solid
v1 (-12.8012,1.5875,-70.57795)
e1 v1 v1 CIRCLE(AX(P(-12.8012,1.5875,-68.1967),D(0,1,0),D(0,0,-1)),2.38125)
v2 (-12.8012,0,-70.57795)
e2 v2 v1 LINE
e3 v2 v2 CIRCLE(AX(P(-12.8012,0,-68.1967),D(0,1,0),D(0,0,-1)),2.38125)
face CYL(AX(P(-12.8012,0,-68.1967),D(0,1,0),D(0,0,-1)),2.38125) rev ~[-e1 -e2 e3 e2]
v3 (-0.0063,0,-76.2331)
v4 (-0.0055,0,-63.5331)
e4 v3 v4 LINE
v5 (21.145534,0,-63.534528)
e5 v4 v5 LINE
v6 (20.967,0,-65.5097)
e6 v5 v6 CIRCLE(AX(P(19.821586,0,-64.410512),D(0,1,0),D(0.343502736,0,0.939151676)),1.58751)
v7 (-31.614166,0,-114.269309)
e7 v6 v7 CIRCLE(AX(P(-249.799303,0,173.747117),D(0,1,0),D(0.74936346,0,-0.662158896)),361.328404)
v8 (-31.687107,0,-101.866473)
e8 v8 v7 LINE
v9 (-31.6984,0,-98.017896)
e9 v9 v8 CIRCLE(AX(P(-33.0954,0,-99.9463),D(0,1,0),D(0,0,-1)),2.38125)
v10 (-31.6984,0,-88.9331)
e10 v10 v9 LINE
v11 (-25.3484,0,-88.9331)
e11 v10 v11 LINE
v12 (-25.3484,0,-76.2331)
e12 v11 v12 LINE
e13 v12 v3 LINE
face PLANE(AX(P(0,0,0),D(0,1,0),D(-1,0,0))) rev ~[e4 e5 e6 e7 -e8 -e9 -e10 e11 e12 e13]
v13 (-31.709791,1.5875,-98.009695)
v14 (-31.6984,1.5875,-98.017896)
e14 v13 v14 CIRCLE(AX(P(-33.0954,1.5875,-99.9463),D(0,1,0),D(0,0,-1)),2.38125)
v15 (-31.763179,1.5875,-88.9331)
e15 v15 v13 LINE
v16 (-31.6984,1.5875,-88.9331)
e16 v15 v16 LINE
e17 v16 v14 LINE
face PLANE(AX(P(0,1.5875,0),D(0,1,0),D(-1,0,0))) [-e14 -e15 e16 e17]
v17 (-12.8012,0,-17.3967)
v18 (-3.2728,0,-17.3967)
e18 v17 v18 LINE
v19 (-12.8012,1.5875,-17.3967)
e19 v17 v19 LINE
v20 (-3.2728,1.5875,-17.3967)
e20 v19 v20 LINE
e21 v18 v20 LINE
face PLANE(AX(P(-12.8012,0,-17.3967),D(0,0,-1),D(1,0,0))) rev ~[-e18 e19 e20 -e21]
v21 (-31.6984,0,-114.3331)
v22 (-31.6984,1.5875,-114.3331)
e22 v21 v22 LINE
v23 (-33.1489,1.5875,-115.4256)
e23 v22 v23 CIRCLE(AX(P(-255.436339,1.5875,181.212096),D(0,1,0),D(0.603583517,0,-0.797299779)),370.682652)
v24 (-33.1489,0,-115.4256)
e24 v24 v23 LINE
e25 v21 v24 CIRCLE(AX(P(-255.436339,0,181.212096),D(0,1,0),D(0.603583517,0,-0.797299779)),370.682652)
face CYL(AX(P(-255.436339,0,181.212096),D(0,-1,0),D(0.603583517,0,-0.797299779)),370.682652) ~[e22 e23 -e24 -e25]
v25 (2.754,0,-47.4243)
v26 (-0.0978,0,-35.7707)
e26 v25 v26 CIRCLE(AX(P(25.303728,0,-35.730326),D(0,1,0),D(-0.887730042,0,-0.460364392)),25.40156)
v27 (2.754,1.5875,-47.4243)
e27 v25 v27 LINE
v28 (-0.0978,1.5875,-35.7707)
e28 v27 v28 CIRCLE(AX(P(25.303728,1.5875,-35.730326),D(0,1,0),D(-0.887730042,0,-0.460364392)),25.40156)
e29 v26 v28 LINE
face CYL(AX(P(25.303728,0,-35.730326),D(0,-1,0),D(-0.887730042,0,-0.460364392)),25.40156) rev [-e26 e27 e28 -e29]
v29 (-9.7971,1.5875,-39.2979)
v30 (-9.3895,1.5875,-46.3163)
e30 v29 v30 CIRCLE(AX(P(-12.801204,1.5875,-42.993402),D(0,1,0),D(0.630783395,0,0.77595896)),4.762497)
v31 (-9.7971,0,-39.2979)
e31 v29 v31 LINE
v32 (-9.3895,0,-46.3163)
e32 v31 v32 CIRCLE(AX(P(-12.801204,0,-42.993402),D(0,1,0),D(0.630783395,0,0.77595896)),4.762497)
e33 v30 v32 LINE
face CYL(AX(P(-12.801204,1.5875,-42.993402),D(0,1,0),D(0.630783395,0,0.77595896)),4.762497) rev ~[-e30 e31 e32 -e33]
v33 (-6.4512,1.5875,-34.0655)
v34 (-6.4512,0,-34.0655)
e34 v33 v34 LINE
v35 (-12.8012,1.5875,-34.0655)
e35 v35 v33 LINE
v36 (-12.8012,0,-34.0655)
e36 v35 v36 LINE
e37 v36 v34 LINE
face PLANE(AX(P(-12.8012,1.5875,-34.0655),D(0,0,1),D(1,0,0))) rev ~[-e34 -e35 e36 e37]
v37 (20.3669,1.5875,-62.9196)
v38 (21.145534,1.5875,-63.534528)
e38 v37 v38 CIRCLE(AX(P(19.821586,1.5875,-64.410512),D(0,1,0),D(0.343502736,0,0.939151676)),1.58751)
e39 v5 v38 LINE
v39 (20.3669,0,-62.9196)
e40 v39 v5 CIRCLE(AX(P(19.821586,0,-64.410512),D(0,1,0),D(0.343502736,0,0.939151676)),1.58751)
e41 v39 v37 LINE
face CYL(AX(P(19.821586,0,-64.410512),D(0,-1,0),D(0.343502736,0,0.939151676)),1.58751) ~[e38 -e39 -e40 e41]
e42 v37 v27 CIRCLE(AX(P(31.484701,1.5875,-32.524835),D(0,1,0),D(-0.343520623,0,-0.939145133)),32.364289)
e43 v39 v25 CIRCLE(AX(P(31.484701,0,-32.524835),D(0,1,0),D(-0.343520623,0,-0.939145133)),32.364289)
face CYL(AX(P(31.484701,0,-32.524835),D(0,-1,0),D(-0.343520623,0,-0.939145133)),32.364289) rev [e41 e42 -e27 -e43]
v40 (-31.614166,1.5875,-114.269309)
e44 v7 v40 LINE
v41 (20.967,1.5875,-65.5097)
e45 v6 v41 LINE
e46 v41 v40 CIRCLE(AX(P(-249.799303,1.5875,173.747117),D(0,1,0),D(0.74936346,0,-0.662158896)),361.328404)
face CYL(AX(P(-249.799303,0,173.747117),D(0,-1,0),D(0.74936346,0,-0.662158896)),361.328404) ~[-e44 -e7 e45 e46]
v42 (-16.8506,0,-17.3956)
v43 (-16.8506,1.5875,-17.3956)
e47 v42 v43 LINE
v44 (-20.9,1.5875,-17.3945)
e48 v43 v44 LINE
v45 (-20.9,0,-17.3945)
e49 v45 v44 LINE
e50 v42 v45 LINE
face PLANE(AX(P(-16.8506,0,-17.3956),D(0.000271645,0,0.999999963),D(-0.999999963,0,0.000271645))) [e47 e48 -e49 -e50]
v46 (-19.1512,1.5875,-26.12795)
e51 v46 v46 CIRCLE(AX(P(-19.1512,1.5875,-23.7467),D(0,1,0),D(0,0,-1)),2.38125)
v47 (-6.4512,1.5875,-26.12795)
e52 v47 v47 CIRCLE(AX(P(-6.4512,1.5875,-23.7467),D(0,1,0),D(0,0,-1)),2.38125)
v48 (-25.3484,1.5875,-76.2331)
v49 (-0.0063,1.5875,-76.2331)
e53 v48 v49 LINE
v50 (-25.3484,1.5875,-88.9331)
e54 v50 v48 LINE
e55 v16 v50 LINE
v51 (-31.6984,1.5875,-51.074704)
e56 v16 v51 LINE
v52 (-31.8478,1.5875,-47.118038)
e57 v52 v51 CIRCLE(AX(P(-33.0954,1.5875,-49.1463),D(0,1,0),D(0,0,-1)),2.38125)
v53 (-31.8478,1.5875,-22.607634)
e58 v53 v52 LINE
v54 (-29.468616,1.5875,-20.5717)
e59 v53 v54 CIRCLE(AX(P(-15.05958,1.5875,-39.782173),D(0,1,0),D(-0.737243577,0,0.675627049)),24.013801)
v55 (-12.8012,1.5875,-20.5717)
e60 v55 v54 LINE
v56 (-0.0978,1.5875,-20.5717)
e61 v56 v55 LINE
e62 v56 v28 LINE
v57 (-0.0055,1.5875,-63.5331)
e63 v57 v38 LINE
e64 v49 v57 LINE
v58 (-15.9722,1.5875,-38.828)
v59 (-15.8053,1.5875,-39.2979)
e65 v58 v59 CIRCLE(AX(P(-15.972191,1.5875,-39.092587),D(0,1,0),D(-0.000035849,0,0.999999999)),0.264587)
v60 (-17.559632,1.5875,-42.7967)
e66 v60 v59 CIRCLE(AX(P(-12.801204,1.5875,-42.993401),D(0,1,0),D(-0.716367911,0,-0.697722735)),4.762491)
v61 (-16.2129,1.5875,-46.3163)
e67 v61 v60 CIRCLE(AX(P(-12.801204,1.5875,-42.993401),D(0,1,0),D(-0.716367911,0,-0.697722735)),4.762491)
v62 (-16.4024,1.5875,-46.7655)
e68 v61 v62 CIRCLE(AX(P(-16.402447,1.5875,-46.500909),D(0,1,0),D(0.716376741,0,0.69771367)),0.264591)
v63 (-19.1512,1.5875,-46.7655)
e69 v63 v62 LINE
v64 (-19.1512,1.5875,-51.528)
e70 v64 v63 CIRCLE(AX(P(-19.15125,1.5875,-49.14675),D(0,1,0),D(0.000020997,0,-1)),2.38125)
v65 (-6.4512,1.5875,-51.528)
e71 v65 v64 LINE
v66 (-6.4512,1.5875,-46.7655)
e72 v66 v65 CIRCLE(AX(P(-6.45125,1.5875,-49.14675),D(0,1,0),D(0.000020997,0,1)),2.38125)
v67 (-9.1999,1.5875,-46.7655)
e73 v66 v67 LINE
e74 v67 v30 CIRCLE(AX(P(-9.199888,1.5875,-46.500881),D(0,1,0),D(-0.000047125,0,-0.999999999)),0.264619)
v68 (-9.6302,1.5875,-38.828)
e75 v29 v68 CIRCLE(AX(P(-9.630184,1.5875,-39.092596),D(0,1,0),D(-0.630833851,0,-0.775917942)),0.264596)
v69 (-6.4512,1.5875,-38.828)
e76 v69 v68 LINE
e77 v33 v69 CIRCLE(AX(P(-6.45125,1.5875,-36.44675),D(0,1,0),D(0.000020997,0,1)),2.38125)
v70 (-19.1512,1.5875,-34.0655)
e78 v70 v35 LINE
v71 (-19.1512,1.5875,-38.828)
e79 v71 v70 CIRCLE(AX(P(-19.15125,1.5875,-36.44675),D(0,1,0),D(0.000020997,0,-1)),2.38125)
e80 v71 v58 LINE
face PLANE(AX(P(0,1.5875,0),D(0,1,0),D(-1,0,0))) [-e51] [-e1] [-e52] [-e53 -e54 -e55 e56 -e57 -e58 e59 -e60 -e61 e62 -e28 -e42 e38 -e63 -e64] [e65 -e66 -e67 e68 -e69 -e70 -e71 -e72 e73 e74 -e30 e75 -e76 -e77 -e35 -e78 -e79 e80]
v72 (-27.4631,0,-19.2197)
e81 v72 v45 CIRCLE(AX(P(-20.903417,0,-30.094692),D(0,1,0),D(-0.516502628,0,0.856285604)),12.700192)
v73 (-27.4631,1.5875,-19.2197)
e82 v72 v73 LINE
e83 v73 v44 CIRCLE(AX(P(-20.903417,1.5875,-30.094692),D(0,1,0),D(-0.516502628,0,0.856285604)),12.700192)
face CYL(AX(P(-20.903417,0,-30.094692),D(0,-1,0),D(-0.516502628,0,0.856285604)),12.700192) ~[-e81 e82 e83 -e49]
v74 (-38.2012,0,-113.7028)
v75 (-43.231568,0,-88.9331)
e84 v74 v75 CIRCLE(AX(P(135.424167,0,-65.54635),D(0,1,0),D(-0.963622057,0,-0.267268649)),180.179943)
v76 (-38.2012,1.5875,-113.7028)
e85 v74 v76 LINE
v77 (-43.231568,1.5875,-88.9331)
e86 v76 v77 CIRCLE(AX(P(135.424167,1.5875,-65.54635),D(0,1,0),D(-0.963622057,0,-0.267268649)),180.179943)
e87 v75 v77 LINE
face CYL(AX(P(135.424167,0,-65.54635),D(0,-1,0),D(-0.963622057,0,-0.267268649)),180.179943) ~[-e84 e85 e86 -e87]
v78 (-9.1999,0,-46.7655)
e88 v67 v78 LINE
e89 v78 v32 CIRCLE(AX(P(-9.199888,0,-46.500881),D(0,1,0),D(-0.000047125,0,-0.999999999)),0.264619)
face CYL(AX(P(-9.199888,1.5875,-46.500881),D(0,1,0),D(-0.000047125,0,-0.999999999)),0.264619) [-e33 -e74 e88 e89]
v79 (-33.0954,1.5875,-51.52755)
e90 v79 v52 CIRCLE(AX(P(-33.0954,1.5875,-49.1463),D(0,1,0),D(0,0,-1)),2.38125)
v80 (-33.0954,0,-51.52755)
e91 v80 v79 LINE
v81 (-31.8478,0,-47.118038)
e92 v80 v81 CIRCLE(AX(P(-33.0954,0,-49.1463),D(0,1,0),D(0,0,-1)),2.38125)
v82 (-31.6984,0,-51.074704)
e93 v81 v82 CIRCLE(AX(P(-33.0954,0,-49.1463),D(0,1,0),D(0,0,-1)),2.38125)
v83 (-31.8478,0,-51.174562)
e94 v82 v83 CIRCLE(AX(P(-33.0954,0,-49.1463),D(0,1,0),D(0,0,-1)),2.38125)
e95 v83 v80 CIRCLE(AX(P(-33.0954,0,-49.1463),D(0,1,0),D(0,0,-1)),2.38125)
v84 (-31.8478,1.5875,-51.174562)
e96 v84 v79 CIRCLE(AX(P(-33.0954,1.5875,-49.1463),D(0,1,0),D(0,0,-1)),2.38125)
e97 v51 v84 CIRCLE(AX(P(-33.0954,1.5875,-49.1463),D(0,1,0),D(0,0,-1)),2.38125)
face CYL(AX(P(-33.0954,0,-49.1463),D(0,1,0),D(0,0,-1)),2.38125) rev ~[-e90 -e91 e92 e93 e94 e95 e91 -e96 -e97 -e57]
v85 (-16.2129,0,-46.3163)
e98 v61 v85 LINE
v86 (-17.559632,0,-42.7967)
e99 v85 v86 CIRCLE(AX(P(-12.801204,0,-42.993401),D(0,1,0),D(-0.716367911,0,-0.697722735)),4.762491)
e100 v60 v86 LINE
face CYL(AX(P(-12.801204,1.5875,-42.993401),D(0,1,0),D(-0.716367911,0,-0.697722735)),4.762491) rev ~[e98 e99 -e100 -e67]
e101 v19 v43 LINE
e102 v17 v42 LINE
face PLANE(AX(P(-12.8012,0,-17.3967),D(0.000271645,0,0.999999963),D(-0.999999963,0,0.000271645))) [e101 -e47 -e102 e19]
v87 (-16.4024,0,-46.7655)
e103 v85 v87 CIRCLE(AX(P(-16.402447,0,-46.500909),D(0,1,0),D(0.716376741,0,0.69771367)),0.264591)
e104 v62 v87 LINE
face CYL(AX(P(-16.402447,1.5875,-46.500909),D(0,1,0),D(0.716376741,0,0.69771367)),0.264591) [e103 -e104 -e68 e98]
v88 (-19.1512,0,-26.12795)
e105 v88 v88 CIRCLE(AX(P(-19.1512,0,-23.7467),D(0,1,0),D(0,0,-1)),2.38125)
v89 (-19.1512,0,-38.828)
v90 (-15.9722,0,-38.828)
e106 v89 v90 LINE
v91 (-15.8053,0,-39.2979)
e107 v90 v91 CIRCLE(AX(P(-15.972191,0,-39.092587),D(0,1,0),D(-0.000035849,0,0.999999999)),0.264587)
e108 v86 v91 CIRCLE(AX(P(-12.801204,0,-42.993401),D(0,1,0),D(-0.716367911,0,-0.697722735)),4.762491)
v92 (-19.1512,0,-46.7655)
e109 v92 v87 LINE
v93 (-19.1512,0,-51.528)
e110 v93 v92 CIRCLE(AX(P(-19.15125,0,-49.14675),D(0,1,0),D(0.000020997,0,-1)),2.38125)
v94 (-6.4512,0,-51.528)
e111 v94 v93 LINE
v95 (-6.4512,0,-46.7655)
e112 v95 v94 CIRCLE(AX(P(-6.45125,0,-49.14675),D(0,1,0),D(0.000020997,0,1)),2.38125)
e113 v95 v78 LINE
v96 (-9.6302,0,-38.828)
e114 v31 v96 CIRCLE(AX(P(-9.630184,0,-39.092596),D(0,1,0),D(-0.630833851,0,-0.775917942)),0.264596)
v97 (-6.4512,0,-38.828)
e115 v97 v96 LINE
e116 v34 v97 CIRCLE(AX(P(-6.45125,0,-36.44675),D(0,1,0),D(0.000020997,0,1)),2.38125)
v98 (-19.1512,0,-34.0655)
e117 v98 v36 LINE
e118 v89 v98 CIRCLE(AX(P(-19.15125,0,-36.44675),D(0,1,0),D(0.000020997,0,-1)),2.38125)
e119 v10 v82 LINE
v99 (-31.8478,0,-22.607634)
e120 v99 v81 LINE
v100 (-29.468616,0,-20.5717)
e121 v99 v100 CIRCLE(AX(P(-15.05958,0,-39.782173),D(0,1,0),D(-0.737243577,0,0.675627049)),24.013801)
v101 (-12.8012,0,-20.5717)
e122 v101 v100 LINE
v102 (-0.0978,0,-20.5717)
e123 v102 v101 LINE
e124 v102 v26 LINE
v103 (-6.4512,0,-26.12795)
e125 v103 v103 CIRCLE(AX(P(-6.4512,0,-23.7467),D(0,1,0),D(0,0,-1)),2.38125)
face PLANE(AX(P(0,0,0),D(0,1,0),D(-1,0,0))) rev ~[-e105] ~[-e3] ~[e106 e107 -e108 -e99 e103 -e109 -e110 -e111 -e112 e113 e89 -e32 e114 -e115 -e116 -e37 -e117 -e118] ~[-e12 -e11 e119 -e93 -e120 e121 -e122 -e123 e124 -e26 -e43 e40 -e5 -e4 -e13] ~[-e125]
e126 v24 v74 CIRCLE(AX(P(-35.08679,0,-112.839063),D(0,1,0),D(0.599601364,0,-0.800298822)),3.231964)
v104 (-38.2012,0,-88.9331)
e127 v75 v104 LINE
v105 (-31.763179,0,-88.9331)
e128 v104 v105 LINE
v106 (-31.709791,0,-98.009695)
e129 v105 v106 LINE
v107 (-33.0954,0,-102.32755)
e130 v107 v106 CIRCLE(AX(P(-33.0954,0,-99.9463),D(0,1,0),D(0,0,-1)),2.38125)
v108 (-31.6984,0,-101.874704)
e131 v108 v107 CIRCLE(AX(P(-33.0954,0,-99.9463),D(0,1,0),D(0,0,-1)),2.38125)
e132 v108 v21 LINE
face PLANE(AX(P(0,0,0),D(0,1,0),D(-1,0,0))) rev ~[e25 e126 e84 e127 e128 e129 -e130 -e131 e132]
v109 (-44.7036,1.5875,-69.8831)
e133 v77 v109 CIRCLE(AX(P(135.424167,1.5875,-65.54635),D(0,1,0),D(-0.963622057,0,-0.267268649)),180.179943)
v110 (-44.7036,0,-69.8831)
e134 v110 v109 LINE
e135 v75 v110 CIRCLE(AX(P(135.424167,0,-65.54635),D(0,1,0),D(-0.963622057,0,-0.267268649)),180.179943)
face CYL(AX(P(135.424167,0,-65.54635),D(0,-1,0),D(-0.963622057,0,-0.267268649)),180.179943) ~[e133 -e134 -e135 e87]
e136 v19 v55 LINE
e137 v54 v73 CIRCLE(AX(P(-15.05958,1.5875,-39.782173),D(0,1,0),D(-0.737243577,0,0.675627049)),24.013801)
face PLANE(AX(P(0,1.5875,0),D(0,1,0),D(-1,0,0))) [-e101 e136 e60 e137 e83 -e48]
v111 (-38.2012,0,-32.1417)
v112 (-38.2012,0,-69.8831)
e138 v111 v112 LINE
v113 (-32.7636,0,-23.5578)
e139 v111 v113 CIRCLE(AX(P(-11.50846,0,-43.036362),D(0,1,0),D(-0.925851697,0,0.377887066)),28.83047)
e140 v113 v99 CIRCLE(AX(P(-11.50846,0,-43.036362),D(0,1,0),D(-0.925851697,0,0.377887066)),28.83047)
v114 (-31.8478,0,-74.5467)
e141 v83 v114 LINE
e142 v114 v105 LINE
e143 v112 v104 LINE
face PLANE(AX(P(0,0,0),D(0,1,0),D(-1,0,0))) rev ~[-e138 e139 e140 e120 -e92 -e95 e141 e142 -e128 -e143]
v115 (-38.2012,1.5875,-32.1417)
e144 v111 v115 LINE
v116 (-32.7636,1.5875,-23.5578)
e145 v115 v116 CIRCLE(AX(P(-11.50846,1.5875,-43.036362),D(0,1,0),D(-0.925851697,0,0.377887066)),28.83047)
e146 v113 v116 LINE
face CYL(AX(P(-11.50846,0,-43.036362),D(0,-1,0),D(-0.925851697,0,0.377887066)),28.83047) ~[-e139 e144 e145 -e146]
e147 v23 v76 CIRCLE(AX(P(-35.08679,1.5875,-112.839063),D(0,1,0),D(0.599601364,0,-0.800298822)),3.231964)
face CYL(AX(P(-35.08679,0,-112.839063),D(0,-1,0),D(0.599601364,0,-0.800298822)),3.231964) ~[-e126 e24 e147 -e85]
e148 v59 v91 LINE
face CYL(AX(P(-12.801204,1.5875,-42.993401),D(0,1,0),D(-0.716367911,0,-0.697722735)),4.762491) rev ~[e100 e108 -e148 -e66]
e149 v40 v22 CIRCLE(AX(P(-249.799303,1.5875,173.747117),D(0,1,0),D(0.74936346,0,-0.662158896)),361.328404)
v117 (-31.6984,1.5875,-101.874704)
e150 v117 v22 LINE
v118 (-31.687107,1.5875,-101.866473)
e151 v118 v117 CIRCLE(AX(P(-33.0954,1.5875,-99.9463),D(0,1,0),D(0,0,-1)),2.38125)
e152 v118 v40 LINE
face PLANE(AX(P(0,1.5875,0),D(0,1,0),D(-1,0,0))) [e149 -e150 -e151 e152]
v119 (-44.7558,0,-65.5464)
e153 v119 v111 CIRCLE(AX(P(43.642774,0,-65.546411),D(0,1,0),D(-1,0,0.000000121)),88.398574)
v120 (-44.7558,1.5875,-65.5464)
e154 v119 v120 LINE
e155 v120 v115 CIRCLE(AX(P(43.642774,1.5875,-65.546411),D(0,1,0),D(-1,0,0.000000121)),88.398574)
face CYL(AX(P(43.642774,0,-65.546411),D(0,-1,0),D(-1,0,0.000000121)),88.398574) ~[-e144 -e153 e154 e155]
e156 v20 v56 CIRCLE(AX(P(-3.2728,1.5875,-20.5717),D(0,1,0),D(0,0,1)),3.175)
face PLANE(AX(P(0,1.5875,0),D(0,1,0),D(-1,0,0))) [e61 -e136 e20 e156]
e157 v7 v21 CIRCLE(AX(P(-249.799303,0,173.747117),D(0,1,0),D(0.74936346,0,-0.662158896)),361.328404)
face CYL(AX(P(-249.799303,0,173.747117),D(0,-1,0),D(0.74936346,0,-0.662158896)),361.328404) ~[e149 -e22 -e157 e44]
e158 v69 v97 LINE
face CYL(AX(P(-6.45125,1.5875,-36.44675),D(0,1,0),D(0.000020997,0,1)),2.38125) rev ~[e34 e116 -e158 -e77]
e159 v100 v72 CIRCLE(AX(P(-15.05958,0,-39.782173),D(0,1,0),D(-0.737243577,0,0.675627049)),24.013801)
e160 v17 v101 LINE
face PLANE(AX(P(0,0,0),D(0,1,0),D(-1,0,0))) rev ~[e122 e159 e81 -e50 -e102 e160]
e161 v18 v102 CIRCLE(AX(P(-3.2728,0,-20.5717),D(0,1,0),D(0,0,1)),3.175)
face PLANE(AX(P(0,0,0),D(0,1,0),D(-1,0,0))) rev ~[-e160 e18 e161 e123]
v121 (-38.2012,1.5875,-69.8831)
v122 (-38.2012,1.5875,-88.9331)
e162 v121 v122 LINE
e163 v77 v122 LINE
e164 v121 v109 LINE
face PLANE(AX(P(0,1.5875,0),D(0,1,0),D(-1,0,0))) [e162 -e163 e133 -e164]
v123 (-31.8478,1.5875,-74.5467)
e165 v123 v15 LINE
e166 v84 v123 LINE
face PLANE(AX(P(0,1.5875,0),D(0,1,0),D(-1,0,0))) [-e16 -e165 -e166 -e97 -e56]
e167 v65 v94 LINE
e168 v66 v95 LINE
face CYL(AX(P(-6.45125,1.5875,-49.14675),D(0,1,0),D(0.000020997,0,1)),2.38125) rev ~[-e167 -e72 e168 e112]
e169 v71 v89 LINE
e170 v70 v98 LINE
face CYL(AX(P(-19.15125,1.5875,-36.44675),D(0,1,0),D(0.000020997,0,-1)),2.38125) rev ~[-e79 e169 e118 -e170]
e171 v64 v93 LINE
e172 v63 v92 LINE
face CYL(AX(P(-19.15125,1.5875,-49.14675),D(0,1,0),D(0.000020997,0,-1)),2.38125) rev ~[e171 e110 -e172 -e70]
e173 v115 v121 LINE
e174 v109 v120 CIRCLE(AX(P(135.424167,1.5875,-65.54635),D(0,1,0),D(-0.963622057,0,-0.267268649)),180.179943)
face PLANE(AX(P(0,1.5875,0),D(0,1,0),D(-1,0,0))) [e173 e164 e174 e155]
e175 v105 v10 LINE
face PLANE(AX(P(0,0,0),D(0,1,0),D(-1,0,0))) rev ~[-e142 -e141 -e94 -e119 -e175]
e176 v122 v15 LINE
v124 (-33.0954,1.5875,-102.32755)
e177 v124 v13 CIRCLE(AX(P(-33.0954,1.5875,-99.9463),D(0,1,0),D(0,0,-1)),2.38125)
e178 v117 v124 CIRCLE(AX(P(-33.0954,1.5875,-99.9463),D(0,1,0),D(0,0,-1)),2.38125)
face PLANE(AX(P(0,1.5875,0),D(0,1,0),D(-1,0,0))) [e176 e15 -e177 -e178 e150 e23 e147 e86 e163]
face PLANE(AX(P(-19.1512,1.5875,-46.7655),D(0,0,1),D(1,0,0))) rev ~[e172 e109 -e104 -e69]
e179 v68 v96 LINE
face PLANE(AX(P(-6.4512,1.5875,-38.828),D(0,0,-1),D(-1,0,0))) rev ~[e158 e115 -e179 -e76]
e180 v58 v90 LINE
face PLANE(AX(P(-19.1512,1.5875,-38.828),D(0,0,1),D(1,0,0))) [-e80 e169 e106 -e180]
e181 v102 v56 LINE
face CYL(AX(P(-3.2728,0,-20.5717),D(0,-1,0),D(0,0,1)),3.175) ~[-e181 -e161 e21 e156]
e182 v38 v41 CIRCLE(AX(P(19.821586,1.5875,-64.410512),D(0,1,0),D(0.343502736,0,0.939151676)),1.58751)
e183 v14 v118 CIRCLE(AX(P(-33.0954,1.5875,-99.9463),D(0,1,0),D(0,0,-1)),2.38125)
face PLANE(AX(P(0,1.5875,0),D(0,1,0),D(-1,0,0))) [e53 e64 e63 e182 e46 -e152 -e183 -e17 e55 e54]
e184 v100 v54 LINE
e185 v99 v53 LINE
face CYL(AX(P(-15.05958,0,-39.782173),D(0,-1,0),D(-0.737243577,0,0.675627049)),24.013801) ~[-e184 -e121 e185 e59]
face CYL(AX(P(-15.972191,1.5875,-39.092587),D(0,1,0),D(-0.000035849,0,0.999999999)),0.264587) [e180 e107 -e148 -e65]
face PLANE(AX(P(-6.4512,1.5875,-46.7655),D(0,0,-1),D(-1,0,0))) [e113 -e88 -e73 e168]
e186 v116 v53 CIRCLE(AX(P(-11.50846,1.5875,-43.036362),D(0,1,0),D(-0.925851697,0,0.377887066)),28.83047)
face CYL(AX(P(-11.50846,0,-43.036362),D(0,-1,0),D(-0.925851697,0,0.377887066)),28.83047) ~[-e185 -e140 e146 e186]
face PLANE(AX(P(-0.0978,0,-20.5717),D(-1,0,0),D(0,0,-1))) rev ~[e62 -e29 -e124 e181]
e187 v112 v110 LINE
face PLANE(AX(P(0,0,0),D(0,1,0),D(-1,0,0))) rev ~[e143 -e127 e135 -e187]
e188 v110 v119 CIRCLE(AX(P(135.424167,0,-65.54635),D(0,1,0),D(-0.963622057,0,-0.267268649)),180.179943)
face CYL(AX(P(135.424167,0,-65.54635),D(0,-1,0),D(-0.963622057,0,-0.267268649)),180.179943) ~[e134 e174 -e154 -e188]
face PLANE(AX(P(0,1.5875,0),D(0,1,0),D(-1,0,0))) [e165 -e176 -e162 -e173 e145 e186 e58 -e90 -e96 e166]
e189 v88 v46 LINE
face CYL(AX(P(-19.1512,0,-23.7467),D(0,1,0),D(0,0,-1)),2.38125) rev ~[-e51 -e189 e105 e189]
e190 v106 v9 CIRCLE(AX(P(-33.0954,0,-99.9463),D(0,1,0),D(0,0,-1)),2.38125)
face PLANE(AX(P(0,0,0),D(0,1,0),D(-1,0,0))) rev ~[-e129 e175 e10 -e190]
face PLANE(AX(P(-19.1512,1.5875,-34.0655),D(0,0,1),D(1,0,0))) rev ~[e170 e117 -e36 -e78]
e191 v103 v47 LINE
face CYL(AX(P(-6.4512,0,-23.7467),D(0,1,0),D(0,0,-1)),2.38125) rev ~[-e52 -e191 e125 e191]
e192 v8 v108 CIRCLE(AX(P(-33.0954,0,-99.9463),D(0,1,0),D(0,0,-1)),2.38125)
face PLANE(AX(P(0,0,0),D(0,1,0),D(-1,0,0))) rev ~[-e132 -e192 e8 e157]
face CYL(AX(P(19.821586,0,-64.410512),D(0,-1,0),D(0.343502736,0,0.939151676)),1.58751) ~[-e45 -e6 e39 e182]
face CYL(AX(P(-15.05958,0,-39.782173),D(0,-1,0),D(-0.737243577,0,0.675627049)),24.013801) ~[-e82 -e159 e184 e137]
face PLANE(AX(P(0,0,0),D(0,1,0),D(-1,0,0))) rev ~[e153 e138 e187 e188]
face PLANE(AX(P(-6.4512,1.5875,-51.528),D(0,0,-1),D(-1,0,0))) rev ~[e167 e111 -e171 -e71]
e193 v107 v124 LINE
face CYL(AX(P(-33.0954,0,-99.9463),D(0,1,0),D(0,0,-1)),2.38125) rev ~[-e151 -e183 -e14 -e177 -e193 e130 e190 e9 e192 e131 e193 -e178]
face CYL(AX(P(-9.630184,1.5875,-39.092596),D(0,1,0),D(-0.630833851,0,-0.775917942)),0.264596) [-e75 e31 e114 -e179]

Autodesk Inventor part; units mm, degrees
ref_plane "YZ Plane" through (0, 0, 0) normal (1, 0, 0) x (0, 1, 0)
ref_plane "XZ Plane" through (0, 0, 0) normal (0, 1, 0) x (-1, 0, 0)
ref_plane "XY Plane" through (0, 0, 0) normal (0, 0, 1) x (1, 0, 0)
sketch "Sketch2" plane through (0, 0, 0) normal (0, 1, 0) x (-1, 0, 0)
  line L0 (50.8978, -88.9331) -> (25.3484, -88.9331)
  line L1 (25.3484, -88.9331) -> (25.3484, -76.2331)
  line L2 (25.3484, -76.2331) -> (0.0063, -76.2331)
  line L3 (50.8978, -88.9331) -> (50.8978, -113.4067)
  line L4 (0.0063, -76.2331) -> (0.0055, -63.5331)
  line L5 (0.0055, -63.5331) -> (-22.2195, -63.5346)
  arc A0 (-20.3669, -62.9196) -> (-2.754, -47.4243) centre (-31.4849, -32.5245) ccw
  arc A1 (48.1058, -116.5585) -> (50.8978, -113.4067) centre (47.7228, -113.4067) ccw
  arc A2 (-20.3669, -62.9196) -> (-20.967, -65.5097) centre (-19.8216, -64.4105) ccw
  arc A3 (-2.754, -47.4243) -> (0.0978, -35.7707) centre (-25.3022, -35.7309) ccw
  line L6 (0.0978, -4.698) -> (47.7219, -4.6852)
  line L7 (50.8978, -7.8602) -> (50.8978, -88.9331)
  line L8 (0.0978, -20.5717) -> (0.0978, -35.7707)
  line L9 (3.2719, -4.6971) -> (12.7978, -4.6946)
  line L10 (12.7978, -4.6946) -> (12.8012, -17.3967)
  line L11 (12.8012, -17.3967) -> (20.9, -17.3945)
  line L12 (38.2012, -17.3899) -> (38.2012, -93.5899)
  line L13 (12.8012, -17.3967) -> (12.8012, -68.1967)
  arc A4 (50.8978, -7.8602) -> (47.7219, -4.6852) centre (47.7228, -7.8602) ccw
  arc A5 (3.2719, -4.6971) -> (0.0978, -7.8721) centre (3.2728, -7.8721) ccw
  line L14 (12.8012, -68.1967) -> (12.8012, -74.5467)
  line L15 (38.2012, -93.5899) -> (38.2012, -99.9399)
  line L16 (38.2012, -17.3899) -> (38.2012, -23.7399)
  line L17 (12.8012, -17.3967) -> (12.8012, -23.7467)
  line L18 (12.8012, -23.7467) -> (19.1512, -23.7467)
  line L19 (19.1512, -23.7467) -> (6.4512, -23.7467)
  line L20 (25.3484, -88.9331) -> (31.6984, -88.9331)
  line L21 (31.6984, -88.9331) -> (31.6984, -114.3331)
  arc A6 (-20.967, -65.5097) -> (31.6984, -114.3331) centre (249.7999, 173.7477) ccw
  arc A7 (31.6984, -114.3331) -> (33.1489, -115.4256) centre (249.7999, 173.7477) ccw
  line L22 (38.2012, -88.9331) -> (38.2012, -69.8831)
  line L23 (38.2012, -69.8831) -> (44.7036, -69.8831)
  line L24 (38.2012, -17.3899) -> (16.8506, -17.3956)
  line L25 (12.8012, -17.3967) -> (3.2728, -17.3967)
  arc A8 (38.2012, -113.7028) -> (38.2012, -17.3899) centre (-135.4238, -65.5464) ccw
  arc A9 (33.1489, -115.4256) -> (38.2012, -113.7028) centre (35.0868, -112.839) ccw
  arc A10 (3.2728, -17.3967) -> (0.0978, -20.5717) centre (3.2728, -20.5717) ccw
  line L26 (38.2012, -17.3899) -> (16.8506, -17.3956)
  arc A11 (44.7558, -65.5464) -> (30.4886, -17.392) centre (-43.6427, -65.5464) ccw
  arc A12 (38.2012, -32.1417) -> (24.6857, -17.3935) centre (11.5084, -43.0364) ccw
  arc A13 (32.7636, -23.5578) -> (27.4631, -19.2197) centre (15.0605, -39.7812) ccw
  arc A14 (27.4631, -19.2197) -> (20.9, -17.3945) centre (20.9035, -30.0945) ccw
  line L27 (0.0978, -20.5717) -> (31.8478, -20.5717)
  line L28 (31.8478, -20.5717) -> (31.8478, -76.2331)
  line L29 (31.8478, -17.3916) -> (31.8478, -74.5467)
  line L30 (31.8478, -74.5467) -> (31.6984, -99.9463)
  line L31 (31.6984, -99.9463) -> (31.5861, -119.0417)
  line L32 (31.6984, -99.9463) -> (31.6984, -49.1463)
  line L33 (31.6984, -99.9463) -> (82.4984, -99.9463) construction
  line L34 (31.6984, -49.1463) -> (33.0954, -49.1463)
  line L35 (31.6984, -99.9463) -> (33.0954, -99.9463)
  point P0 (0, 0)
  point P1 (50.8978, -120.6831)
  point P2 (0.0775, -39.6857)
  point P3 (-21.1455, -63.5345)
  point P4 (50.8978, -4.6844)
  point P5 (3.2719, -4.6971)
  point P6 (38.0838, -119.0579)
  point P7 (23.7439, -17.3938)
  point P8 (12.8012, -17.3967)
  dimension "d3" = 12.7
  dimension "d4" = 31.75
  dimension "d5" = 12.7
  dimension "d6" = 22.225
  dimension "d18" = 3.175
  dimension "d19" = 1.5875
  dimension "d23" = 4.699
  dimension "d24" = 12.7
  dimension "d25" = 25.4
  dimension "d26" = 76.2
  dimension "d27" = 50.8
  dimension "d28" = 3.175
  dimension "d33" = 6.35
  dimension "d35" = 6.35
  dimension "d36" = 6.35
  dimension "d37" = 6.35
  dimension "d38" = 12.7
  dimension "d54" = 6.35
  dimension "d55" = 25.4
  dimension "d56" = 50.8
  dimension "d58" = 19.05
  dimension "d59" = 3.175
  dimension "d60" = 12.7
  dimension "d61" = 31.75
  dimension "d62" = 25.4
  dimension "d63" = 19.0957
  dimension "d64" = 180
  dimension "d65" = 50.8
  dimension "d66" = 90
  dimension "d69" = 1.397
extrude "Extrusion1" add sketch "Sketch2" along normal blind 1.5875 contours L21 L31 A6 A2 L5 L4 L2 L1 L0 | L32 L34 L28 L30 L0 | L0 L30 L21 | L0 L1 L2 L4 L5 A2 A0 A3 L8 L27 A13 L28 L34 L32 | L30 L28 A12 L12 L0 | L0 A8 A9 A7 L21 L30 | L21 A6 L31 | L12 L23 A8 L0 | L12 A11 A8 L23 | L27 L13 L11 A14 A13 | L27 A10 L25 L13
hole "Hole3" at (-6.4512, 0, -23.7467) at (-19.1512, 0, -23.7467) at (-12.8012, 0, -68.1967) at (-33.0954, 0, -49.1463) at (-33.0954, 0, -99.9463) direction (0, 1, 0) diameter 4.7625 end through all
sketch "Sketch3" plane through (0, 1.5875, 0) normal (0, 1, 0) x (1, 0, 0)
  circle A0 centre (-19.1512, 23.7467) radius 2.3813 projected
  line L0 (-19.1512, 23.7467) -> (-19.1512, 42.7967) construction
  line L1 (-19.1512, 23.7467) -> (-0.1012, 23.7467) construction
  line L2 (-19.1512, 42.7967) -> (-12.8012, 42.7967)
  circle A1 centre (-6.4512, 23.7467) radius 2.3813 projected
  line L3 (-6.4512, 23.7467) -> (-6.4512, 36.4467) construction
  line L4 (-6.4512, 36.4467) -> (-19.1512, 36.4467) construction
  arc A2 (-19.1512, 38.828) -> (-19.1512, 34.0655) centre (-19.1512, 36.4467) ccw
  arc A3 (-6.4512, 34.0655) -> (-6.4512, 38.828) centre (-6.4512, 36.4467) ccw
  line L5 (-19.1512, 34.0655) -> (-6.4512, 34.0655)
  line L6 (-6.4512, 36.4467) -> (-6.4512, 49.1467) construction
  line L7 (-6.4512, 49.1467) -> (-19.1512, 49.1467) construction
  arc A4 (-19.1512, 51.528) -> (-19.1512, 46.7655) centre (-19.1512, 49.1467) ccw
  arc A5 (-6.4512, 46.7655) -> (-6.4512, 51.528) centre (-6.4512, 49.1467) ccw
  line L8 (-6.4512, 51.528) -> (-19.1512, 51.528)
  line L9 (-12.8012, 34.0655) -> (-12.8012, 36.4467)
  line L10 (-12.8012, 36.4467) -> (-19.1512, 36.4467)
  line L11 (-19.1512, 38.828) -> (-15.9722, 38.828)
  line L12 (-6.4512, 38.828) -> (-9.6302, 38.828)
  line L13 (-6.4512, 46.7655) -> (-9.1999, 46.7655)
  line L14 (-19.1512, 46.7655) -> (-16.4024, 46.7655)
  arc A6 (-9.7971, 39.2979) -> (-9.3895, 46.3163) centre (-12.8012, 42.9934) ccw
  arc A7 (-16.2129, 46.3163) -> (-15.8053, 39.2979) centre (-12.8012, 42.9934) ccw
  arc A8 (-9.7971, 39.2979) -> (-9.6302, 38.828) centre (-9.6302, 39.0926) ccw
  arc A9 (-15.9722, 38.828) -> (-15.8053, 39.2979) centre (-15.9722, 39.0926) ccw
  arc A10 (-16.2129, 46.3163) -> (-16.4024, 46.7655) centre (-16.4024, 46.5009) ccw
  arc A11 (-9.1999, 46.7655) -> (-9.3895, 46.3163) centre (-9.1999, 46.5009) ccw
  point P0 (0, 0)
  point P1 (-15.1101, 38.828)
  point P2 (-10.4923, 38.828)
  point P3 (-9.8938, 46.7655)
  point P4 (-15.7085, 46.7655)
  dimension "d70" = 19.05
  dimension "d71" = 90
  dimension "d72" = 6.35
  dimension "d73" = 12.7
  dimension "d78" = 6.35
  dimension "d79" = 0.2646
extrude "Extrusion2" cut sketch "Sketch3" against normal through all contours L11 A9 A7 A10 L14 A4 L8 A5 L13 A11 A6 A8 L12 A3 L5 A2
properties part number "sled2" material "Polycarbonate, Smoke"
